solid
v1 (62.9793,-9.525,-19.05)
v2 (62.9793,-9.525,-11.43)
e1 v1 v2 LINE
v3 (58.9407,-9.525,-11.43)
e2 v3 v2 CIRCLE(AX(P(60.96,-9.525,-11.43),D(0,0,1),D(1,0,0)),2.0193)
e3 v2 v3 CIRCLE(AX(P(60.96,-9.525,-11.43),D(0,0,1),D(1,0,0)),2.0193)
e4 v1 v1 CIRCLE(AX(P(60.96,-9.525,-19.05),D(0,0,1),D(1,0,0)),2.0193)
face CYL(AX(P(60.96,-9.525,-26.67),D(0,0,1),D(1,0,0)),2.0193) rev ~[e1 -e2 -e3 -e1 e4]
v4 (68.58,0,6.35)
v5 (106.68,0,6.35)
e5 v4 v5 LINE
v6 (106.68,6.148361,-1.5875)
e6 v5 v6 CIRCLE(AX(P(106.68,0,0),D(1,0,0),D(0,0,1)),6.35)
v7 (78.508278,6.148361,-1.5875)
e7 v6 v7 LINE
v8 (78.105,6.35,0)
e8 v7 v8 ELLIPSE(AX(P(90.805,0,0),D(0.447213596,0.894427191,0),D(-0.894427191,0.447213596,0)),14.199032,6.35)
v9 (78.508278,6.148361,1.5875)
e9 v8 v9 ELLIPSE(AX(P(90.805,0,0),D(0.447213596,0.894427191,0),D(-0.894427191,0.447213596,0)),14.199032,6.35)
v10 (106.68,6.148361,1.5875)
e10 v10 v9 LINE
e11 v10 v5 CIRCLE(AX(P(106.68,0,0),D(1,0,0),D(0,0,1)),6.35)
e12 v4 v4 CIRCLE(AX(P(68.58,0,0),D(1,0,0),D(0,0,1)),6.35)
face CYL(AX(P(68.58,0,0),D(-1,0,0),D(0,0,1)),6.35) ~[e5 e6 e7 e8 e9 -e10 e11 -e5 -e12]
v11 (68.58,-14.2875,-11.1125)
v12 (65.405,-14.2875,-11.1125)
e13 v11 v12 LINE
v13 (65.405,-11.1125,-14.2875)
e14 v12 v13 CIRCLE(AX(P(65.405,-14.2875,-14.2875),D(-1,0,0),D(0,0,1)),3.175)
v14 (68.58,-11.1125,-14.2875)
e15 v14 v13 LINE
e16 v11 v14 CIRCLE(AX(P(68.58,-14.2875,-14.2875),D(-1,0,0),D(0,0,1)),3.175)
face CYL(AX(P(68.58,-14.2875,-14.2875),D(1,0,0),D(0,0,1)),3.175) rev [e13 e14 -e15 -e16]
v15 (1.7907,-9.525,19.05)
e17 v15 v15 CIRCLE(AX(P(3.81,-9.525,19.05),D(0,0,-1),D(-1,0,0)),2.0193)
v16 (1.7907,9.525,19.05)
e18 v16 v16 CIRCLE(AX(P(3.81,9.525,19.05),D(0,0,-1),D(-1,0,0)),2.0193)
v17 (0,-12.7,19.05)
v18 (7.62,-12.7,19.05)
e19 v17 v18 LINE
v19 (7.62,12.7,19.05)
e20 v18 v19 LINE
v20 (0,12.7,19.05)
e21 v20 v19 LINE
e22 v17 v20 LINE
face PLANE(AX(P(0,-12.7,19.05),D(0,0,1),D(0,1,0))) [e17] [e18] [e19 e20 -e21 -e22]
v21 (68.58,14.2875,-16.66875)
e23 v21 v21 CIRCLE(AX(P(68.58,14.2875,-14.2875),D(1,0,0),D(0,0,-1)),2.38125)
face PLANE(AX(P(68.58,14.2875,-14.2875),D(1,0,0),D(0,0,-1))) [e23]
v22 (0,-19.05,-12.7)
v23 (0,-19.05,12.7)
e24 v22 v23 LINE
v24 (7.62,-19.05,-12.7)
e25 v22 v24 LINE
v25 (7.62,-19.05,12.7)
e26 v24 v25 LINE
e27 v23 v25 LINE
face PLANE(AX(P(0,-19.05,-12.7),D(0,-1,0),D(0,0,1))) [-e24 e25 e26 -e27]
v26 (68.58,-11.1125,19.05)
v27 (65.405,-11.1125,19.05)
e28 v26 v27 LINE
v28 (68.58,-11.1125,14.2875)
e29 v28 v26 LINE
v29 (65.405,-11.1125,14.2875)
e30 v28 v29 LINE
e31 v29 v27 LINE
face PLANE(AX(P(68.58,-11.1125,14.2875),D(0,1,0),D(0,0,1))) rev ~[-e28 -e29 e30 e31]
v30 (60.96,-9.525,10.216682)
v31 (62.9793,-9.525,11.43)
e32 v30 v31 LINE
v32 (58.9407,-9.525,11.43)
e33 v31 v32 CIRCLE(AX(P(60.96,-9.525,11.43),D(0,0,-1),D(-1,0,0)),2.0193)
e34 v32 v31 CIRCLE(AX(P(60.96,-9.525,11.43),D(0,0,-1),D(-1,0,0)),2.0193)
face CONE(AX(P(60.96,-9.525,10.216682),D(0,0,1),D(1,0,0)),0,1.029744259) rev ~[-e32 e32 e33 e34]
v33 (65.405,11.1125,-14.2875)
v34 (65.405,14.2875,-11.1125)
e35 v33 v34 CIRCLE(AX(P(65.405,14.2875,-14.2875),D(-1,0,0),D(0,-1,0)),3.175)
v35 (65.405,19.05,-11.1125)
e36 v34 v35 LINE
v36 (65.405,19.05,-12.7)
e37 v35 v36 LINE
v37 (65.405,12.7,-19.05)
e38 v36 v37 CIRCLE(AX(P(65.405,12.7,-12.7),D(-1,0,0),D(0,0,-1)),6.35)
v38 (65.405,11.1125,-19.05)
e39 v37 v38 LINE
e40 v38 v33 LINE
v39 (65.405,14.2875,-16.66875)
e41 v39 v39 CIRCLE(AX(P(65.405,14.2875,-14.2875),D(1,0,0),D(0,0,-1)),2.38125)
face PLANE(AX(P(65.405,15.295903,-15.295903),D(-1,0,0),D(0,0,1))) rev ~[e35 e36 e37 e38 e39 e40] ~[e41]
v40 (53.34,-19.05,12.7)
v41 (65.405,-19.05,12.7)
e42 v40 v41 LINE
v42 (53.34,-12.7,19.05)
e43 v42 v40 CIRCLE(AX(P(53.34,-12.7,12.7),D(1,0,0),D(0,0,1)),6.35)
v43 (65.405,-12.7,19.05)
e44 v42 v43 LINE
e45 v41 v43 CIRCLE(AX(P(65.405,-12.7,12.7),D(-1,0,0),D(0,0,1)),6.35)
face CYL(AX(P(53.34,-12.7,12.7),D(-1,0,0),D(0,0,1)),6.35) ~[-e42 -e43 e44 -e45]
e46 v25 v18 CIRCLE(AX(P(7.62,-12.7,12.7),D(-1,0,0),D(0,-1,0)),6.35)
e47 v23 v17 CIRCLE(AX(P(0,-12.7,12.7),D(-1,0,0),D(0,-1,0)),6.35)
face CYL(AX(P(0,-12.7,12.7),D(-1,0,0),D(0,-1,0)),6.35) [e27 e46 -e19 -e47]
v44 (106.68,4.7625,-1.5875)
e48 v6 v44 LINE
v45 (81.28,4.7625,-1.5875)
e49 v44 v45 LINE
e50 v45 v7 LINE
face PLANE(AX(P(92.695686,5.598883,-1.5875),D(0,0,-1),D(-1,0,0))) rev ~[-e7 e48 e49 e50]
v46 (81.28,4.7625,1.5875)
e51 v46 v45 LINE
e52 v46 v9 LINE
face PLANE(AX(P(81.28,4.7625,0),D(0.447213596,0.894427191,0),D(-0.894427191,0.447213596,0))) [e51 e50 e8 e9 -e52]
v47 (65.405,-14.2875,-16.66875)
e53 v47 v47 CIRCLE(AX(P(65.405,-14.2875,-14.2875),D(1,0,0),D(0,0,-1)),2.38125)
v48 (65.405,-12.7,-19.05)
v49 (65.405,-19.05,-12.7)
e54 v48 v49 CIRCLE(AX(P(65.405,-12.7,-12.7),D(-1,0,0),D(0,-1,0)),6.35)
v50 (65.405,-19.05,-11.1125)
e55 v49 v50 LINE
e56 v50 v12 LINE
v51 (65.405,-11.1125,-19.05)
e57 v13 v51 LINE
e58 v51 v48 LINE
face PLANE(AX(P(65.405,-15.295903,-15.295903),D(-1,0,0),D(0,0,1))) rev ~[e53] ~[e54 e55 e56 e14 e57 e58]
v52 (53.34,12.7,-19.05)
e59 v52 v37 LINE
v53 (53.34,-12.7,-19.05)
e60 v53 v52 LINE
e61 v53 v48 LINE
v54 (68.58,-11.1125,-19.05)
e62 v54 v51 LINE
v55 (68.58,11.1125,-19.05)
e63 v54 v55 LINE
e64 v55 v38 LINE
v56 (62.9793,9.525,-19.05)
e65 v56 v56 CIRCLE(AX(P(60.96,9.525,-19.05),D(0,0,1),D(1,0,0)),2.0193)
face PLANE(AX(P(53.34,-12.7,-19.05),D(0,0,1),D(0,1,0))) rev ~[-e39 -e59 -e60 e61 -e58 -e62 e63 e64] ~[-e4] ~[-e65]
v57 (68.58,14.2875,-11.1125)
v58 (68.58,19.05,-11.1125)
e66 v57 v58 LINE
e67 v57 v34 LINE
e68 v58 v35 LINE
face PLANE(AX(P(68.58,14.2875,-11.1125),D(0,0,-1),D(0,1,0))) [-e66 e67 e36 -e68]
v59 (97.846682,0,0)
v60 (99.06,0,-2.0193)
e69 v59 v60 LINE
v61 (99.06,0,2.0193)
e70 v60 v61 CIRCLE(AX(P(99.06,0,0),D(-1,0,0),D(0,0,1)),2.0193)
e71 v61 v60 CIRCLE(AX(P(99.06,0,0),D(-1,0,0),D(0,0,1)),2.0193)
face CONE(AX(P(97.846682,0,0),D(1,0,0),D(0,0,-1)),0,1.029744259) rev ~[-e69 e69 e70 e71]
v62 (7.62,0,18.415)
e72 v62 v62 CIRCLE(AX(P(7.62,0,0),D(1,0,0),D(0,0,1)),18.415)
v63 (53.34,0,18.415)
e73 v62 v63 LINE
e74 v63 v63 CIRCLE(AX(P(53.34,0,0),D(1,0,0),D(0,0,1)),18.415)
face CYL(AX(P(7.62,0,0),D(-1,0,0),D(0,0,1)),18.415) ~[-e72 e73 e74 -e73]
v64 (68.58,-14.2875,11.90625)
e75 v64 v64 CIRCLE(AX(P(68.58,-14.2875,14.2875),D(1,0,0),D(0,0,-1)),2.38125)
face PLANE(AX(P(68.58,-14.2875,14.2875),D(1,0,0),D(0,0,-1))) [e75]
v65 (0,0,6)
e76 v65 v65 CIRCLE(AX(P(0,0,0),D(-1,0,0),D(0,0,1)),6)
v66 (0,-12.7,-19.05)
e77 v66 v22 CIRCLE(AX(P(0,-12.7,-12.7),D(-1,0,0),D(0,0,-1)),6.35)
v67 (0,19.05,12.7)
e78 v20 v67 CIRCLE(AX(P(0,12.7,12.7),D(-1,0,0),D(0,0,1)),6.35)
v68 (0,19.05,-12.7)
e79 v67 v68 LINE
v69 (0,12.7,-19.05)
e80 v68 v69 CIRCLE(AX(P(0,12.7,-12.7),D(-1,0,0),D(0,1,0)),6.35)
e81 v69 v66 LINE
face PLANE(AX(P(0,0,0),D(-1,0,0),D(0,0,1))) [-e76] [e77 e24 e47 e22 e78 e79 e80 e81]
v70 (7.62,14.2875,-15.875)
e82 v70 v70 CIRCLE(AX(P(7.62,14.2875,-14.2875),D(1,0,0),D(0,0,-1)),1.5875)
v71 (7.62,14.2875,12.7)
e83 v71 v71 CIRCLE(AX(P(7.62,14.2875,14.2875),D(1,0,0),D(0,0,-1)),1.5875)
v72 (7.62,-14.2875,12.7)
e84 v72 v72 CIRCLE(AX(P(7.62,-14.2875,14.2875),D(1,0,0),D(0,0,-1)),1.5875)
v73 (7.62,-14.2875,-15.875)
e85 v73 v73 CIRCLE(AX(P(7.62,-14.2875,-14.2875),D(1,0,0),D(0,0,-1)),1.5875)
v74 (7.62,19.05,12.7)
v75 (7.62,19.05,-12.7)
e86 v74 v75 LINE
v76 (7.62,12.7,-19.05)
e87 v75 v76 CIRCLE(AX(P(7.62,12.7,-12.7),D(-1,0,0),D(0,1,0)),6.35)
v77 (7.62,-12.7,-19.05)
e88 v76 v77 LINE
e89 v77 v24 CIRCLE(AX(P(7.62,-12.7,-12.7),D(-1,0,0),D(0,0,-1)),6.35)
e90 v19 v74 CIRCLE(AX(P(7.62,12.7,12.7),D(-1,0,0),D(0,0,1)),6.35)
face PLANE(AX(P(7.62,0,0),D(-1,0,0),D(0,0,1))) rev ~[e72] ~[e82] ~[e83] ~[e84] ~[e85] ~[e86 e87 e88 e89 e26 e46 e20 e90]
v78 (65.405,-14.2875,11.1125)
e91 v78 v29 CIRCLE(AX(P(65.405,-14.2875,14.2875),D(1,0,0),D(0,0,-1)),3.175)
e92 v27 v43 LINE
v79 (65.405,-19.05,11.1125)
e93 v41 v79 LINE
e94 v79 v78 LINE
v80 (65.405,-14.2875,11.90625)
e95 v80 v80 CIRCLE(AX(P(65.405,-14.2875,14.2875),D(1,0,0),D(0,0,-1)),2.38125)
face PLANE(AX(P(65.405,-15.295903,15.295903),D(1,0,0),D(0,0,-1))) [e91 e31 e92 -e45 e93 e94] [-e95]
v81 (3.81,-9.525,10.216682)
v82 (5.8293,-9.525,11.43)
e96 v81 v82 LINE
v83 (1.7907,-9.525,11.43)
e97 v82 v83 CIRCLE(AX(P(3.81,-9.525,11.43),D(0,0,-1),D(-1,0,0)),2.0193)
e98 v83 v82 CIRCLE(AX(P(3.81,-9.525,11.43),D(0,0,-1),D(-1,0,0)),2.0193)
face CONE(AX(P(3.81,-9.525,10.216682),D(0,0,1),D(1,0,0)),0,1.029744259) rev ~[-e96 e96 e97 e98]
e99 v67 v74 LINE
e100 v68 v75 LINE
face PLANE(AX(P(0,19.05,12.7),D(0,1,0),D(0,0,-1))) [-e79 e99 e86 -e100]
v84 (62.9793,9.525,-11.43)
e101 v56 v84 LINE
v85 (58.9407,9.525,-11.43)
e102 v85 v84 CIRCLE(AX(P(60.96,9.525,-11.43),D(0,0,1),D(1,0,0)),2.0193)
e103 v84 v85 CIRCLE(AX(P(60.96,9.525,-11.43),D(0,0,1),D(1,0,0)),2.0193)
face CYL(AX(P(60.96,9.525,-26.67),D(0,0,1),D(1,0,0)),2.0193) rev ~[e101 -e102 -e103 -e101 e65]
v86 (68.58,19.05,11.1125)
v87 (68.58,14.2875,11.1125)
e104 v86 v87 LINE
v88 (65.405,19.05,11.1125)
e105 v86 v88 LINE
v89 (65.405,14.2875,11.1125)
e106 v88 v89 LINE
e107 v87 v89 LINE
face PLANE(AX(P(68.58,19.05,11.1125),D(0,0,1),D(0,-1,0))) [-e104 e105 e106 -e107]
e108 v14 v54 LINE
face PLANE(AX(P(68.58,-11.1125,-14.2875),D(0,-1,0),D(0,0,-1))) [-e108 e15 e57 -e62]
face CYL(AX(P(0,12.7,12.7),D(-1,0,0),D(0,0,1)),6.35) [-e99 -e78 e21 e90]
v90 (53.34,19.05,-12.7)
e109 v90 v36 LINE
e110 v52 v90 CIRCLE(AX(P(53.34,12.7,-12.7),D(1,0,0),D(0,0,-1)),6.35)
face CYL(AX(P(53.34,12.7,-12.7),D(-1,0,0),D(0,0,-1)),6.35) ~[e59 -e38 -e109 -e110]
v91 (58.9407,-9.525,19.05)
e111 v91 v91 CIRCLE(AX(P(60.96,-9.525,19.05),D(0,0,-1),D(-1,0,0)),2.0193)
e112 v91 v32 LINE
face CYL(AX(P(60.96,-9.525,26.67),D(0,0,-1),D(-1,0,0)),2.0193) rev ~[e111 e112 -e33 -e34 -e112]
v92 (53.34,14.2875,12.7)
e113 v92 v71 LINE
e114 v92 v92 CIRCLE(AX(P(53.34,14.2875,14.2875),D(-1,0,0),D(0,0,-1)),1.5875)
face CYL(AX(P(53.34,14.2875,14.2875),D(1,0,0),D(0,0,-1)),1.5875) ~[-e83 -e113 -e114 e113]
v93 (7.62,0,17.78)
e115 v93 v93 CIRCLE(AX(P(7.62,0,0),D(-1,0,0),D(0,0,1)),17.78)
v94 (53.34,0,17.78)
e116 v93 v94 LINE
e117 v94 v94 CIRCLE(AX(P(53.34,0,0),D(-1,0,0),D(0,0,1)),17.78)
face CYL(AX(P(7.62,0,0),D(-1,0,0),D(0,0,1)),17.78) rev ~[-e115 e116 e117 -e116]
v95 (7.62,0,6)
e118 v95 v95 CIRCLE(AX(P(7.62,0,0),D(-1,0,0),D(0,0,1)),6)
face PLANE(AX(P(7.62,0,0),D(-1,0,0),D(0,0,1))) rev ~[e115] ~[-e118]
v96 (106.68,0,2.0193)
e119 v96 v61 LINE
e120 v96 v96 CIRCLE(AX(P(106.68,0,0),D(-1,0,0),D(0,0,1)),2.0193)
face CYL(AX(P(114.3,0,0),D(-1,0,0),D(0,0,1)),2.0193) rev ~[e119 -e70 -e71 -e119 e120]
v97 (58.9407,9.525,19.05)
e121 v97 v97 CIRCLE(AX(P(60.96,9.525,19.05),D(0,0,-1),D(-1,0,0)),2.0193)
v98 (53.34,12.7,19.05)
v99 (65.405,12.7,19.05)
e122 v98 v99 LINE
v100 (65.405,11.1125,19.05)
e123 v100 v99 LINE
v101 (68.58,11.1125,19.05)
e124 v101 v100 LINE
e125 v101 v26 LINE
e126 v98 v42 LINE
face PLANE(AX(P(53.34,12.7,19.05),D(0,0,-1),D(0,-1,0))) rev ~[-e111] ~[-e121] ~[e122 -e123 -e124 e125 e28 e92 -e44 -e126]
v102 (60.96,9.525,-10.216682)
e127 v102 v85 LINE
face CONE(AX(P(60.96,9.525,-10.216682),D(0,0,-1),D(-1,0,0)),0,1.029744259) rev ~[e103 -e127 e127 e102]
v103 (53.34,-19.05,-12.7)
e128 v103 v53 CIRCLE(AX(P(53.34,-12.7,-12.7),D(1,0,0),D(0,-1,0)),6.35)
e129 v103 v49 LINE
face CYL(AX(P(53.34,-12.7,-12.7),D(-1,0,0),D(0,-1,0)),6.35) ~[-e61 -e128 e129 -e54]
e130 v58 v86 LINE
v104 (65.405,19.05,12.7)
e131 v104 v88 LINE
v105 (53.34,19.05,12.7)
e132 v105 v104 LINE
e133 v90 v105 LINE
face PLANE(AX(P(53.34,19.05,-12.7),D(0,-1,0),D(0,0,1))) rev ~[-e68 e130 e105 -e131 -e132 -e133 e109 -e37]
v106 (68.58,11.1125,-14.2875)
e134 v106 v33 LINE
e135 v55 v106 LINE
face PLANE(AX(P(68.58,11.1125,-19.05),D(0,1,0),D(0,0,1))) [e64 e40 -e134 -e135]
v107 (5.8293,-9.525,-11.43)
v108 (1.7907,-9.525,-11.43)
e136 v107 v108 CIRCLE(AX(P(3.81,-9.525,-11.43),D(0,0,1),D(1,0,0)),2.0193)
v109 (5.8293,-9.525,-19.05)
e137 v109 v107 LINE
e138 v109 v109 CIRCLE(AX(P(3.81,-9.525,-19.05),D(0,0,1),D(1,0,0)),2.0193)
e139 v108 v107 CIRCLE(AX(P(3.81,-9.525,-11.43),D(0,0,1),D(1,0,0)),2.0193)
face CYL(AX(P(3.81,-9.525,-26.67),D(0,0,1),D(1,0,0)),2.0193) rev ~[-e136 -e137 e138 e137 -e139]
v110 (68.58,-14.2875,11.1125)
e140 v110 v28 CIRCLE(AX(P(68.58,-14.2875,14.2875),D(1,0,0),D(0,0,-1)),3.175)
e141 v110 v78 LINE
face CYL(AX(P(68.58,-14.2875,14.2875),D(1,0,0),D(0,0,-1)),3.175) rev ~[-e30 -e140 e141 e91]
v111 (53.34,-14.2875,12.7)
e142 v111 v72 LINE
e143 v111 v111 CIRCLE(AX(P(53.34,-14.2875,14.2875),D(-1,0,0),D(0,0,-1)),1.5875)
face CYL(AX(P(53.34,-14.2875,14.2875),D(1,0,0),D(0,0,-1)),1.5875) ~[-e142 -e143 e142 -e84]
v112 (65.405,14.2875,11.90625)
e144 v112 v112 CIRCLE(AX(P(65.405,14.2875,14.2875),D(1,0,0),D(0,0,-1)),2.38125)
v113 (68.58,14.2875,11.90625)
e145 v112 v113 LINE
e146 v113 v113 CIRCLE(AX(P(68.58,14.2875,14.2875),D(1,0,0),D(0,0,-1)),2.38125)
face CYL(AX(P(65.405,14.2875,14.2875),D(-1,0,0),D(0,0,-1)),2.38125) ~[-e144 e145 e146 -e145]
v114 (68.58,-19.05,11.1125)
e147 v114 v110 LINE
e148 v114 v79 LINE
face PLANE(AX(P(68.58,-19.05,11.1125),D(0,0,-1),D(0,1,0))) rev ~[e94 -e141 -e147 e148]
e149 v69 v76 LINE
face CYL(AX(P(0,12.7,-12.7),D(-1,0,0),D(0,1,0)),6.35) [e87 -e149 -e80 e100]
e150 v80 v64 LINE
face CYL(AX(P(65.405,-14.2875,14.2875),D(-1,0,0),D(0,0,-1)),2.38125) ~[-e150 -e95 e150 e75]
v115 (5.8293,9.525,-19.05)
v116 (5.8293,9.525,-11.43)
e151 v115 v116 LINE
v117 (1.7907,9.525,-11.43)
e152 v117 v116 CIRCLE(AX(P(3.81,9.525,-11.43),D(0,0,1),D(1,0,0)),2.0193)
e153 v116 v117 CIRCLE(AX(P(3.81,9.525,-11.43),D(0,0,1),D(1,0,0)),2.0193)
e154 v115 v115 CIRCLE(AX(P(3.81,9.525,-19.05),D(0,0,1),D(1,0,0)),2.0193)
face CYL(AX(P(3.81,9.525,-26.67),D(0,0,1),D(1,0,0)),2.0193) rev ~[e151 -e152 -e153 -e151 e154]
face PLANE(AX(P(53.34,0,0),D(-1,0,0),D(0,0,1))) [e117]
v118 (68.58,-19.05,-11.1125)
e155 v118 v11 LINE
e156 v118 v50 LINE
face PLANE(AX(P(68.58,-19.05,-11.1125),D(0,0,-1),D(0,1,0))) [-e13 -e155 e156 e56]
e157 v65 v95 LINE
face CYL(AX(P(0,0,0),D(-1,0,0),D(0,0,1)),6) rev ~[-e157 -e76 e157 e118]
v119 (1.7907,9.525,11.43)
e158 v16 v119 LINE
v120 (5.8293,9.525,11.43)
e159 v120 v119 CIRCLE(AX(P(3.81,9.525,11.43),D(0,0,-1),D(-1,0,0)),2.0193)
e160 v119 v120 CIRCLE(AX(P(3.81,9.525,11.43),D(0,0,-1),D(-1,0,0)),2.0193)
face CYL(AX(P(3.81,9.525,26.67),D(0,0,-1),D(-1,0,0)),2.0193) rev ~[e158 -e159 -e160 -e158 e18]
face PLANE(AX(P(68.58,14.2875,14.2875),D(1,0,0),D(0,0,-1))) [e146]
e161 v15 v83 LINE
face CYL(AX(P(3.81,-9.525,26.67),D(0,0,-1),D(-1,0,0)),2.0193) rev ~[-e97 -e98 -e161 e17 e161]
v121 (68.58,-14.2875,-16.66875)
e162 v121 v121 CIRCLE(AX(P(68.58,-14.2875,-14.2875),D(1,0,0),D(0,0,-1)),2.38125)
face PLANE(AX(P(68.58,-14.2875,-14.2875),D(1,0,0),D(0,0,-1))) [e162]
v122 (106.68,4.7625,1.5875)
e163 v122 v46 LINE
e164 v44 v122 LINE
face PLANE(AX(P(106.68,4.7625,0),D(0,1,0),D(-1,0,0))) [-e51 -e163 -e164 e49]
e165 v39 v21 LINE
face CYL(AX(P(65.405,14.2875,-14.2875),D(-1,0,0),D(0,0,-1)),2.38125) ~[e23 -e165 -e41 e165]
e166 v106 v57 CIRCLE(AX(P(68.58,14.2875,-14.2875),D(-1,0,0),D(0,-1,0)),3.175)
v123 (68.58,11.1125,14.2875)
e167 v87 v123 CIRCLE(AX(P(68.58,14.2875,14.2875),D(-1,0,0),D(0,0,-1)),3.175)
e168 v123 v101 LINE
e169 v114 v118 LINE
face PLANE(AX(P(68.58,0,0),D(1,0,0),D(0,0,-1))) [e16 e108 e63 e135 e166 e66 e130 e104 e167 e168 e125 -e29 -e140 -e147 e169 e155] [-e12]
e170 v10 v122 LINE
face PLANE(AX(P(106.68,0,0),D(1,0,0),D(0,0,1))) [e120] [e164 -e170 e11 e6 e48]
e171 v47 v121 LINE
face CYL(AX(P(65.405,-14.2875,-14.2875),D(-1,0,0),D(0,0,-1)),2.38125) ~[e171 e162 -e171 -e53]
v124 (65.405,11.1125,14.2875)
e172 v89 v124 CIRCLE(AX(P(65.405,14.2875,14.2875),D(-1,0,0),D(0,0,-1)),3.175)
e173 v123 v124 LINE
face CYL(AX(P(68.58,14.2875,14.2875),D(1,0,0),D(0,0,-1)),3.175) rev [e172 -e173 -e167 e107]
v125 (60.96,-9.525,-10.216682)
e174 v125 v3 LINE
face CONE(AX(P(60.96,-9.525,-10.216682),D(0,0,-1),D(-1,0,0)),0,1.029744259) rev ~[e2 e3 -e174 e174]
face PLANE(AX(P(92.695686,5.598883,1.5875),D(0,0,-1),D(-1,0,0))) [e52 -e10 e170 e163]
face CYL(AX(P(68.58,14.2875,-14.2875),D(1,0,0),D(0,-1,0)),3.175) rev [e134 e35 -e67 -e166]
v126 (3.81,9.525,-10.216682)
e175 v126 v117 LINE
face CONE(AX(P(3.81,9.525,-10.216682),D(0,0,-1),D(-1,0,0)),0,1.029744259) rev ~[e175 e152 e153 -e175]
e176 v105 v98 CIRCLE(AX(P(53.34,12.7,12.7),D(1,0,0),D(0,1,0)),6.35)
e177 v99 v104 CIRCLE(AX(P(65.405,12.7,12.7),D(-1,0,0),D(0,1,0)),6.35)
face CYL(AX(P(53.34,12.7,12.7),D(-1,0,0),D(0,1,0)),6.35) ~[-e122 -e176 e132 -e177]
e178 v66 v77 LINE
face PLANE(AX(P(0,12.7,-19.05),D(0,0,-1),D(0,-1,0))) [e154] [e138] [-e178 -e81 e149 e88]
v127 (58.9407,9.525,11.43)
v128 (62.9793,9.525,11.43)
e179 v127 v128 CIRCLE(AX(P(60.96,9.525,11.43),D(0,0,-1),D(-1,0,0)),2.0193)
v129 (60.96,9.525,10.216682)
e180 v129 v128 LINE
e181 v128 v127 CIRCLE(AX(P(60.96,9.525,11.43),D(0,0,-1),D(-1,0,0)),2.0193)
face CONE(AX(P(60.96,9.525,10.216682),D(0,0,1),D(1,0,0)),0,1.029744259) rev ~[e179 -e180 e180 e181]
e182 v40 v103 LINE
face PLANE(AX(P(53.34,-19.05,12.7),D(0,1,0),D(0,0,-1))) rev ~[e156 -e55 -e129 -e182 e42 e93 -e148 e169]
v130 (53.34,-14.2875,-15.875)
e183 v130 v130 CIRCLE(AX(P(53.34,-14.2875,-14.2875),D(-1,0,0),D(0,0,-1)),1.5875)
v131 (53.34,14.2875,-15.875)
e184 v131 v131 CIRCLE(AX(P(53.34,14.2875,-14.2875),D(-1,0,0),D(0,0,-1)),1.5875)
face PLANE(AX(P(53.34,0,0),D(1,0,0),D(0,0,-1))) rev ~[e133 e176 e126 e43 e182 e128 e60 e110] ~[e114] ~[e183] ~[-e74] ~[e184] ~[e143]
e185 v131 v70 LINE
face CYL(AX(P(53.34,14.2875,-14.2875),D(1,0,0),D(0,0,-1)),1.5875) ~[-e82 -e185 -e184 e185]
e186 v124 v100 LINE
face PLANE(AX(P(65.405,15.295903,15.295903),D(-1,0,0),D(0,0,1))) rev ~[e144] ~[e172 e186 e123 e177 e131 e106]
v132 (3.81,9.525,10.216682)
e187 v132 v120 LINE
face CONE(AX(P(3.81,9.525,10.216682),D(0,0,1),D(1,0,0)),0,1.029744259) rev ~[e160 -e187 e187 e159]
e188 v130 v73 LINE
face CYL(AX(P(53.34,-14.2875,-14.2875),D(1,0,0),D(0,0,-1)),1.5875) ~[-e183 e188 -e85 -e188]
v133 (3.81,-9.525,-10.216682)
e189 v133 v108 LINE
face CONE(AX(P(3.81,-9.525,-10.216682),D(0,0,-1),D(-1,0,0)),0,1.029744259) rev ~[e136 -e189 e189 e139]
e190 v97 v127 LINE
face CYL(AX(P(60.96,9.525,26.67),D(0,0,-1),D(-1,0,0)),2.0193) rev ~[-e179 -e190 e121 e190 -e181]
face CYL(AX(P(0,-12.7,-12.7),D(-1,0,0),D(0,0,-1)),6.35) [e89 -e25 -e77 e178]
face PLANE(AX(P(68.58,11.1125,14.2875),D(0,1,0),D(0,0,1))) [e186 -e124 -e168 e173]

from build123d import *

# Parameters (mm, degrees)
BOSS_EXTRUDE1_DEPTH                  = 7.62
SKETCH2_R                            = 18.415
BOSS_EXTRUDE2_DEPTH                  = 45.72
BOSS_EXTRUDE3_DEPTH                  = 15.24
SKETCH5_R                            = 6.35
BOSS_EXTRUDE4_DEPTH                  = 38.1
F_10_32_TAPPED_HOLE1_D               = 4.0386
F_10_32_TAPPED_HOLE1_DEPTH           = 7.62
F_10_32_TAPPED_HOLE1_TIP             = 1.213317848
F_10_32_TAPPED_HOLE1_ON_FACE_2_D     = 4.0386
F_10_32_TAPPED_HOLE1_ON_FACE_2_DEPTH = 7.62
F_10_32_TAPPED_HOLE1_ON_FACE_2_TIP   = 1.213317848
CUT_EXTRUDE1_START                   = -7.62
SKETCH8_R                            = 17.78
CUT_EXTRUDE1_DEPTH                   = 45.72
CUT_EXTRUDE2_REACH                   = 112.029
SKETCH9_R                            = 6
CUT_EXTRUDE3_DEPTH                   = 1.5875
F_10_32_TAPPED_HOLE2_D               = 4.0386
F_10_32_TAPPED_HOLE2_DEPTH           = 7.62
F_10_32_TAPPED_HOLE2_TIP             = 1.213317848
CUT_EXTRUDE4_DEPTH                   = 3.175
BOSS_EXTRUDE5_REACH                  = 61.758
SKETCH15_R                           = 1.5875
SKETCH16_R                           = 2.38125
BOSS_EXTRUDE6_DEPTH                  = 3.175


with BuildPart() as part:
    # Sketch1 → Boss-Extrude1 (new body)
    with BuildSketch(Plane(origin=(0, 0, 0), x_dir=(0, 0, -1), z_dir=(1, 0, 0))):
        with BuildLine():
            Line((-12.7, 19.05), (12.7, 19.05))
            ThreePointArc((12.7, 19.05), (17.190128061, 17.190128061), (19.05, 12.7))
            Line((19.05, 12.7), (19.05, -12.7))
            ThreePointArc((19.05, -12.7), (17.190128061, -17.190128061), (12.7, -19.05))
            Line((12.7, -19.05), (-12.7, -19.05))
            ThreePointArc((-12.7, -19.05), (-17.190128061, -17.190128061), (-19.05, -12.7))
            Line((-19.05, -12.7), (-19.05, 12.7))
            ThreePointArc((-19.05, 12.7), (-17.190128061, 17.190128061), (-12.7, 19.05))
        make_face()
    extrude(amount=BOSS_EXTRUDE1_DEPTH)

    # Sketch2 → Boss-Extrude2 (add)
    with BuildSketch(Plane(origin=(7.62, 0, 0), x_dir=(0, 0, -1), z_dir=(1, 0, 0))):
        with Locations(Location((0, 0, 0), (0, 0, 180))):
            Circle(SKETCH2_R)
    extrude(amount=BOSS_EXTRUDE2_DEPTH)

    # Sketch4 → Boss-Extrude3 (add)
    with BuildSketch(Plane(origin=(53.34, 0, 0), x_dir=(0, 0, -1), z_dir=(1, 0, 0))):
        with BuildLine():
            Line((12.7, 19.05), (-12.7, 19.05))
            ThreePointArc((-12.7, 19.05), (-17.190128061, 17.190128061), (-19.05, 12.7))
            Line((-19.05, 12.7), (-19.05, -12.7))
            ThreePointArc((-19.05, -12.7), (-17.190128061, -17.190128061), (-12.7, -19.05))
            Line((-12.7, -19.05), (12.7, -19.05))
            ThreePointArc((12.7, -19.05), (17.190128061, -17.190128061), (19.05, -12.7))
            Line((19.05, -12.7), (19.05, 12.7))
            ThreePointArc((19.05, 12.7), (17.190128061, 17.190128061), (12.7, 19.05))
        make_face()
    extrude(amount=BOSS_EXTRUDE3_DEPTH)

    # Sketch5 → Boss-Extrude4 (add)
    with BuildSketch(Plane(origin=(68.58, 0, 0), x_dir=(0, 0, -1), z_dir=(1, 0, 0))):
        with Locations(Location((0, 0, 0), (0, 0, 180))):
            Circle(SKETCH5_R)
    extrude(amount=BOSS_EXTRUDE4_DEPTH)

    # #10-32 Tapped Hole1
    with Locations(Plane(origin=(60.96, 9.525, -19.05), x_dir=(-1, 0, 0), z_dir=(0, 0, -1))):
        with Locations((0, 0), (0, -19.05), (57.15, 0), (57.15, -19.05)):
            Hole(F_10_32_TAPPED_HOLE1_D / 2, depth=F_10_32_TAPPED_HOLE1_DEPTH)
            with Locations((0, 0, -(F_10_32_TAPPED_HOLE1_DEPTH + F_10_32_TAPPED_HOLE1_TIP / 2))):  # 118° drill point
                Cone(0, F_10_32_TAPPED_HOLE1_D / 2, F_10_32_TAPPED_HOLE1_TIP, mode=Mode.SUBTRACT)

    # #10-32 Tapped Hole1 on face 2
    with Locations(Plane(origin=(60.96, 9.525, 19.05), x_dir=(1, 0, 0), z_dir=(0, 0, 1))):
        with Locations((0, 0), (0, -19.05), (-57.15, 0), (-57.15, -19.05)):
            Hole(F_10_32_TAPPED_HOLE1_ON_FACE_2_D / 2, depth=F_10_32_TAPPED_HOLE1_ON_FACE_2_DEPTH)
            with Locations((0, 0, -(F_10_32_TAPPED_HOLE1_ON_FACE_2_DEPTH + F_10_32_TAPPED_HOLE1_ON_FACE_2_TIP / 2))):  # 118° drill point
                Cone(0, F_10_32_TAPPED_HOLE1_ON_FACE_2_D / 2, F_10_32_TAPPED_HOLE1_ON_FACE_2_TIP, mode=Mode.SUBTRACT)

    # Sketch8 → Cut-Extrude1 (cut)
    with BuildSketch(Plane.ZY.offset(CUT_EXTRUDE1_START)):
        Circle(SKETCH8_R)
    extrude(amount=-CUT_EXTRUDE1_DEPTH, mode=Mode.SUBTRACT)

    # Sketch9 → Cut-Extrude2 (cut, up to next)
    with BuildSketch(Plane.ZY, mode=Mode.PRIVATE) as cut_extrude2_sk1:
        Circle(SKETCH9_R)
    cut_extrude2_tool1 = extrude(cut_extrude2_sk1.sketch, amount=-CUT_EXTRUDE2_REACH, mode=Mode.PRIVATE) & part.part
    add(cut_extrude2_tool1.solids().sort_by_distance((0, 0, 0))[0], mode=Mode.SUBTRACT)

    # Sketch10 → Cut-Extrude3 (cut, symmetric)
    with BuildSketch(Plane.XY):
        Polygon((106.68, 4.7625), (81.28, 4.7625), (78.105, 6.35), (106.68, 6.35), align=None)
    extrude(amount=CUT_EXTRUDE3_DEPTH, both=True, mode=Mode.SUBTRACT)

    # #10-32 Tapped Hole2
    with Locations(Plane(origin=(106.68, 0, 0), x_dir=(0, 0, -1), z_dir=(1, 0, 0))):
        with Locations((0, 0)):
            Hole(F_10_32_TAPPED_HOLE2_D / 2, depth=F_10_32_TAPPED_HOLE2_DEPTH)
            with Locations((0, 0, -(F_10_32_TAPPED_HOLE2_DEPTH + F_10_32_TAPPED_HOLE2_TIP / 2))):  # 118° drill point
                Cone(0, F_10_32_TAPPED_HOLE2_D / 2, F_10_32_TAPPED_HOLE2_TIP, mode=Mode.SUBTRACT)

    # Sketch14 → Cut-Extrude4 (cut)
    with BuildSketch(Plane(origin=(68.58, 0, 0), x_dir=(0, 0, -1), z_dir=(1, 0, 0))):
        with BuildLine():
            Line((-14.2875, 11.1125), (-19.05, 11.1125))
            Line((-19.05, 11.1125), (-19.05, 19.05))
            Line((-19.05, 19.05), (-11.1125, 19.05))
            Line((-11.1125, 19.05), (-11.1125, 14.2875))
            ThreePointArc((-11.1125, 14.2875), (-12.04243597, 12.04243597), (-14.2875, 11.1125))
        make_face()
        with BuildLine():
            Line((-14.2875, -11.1125), (-19.05, -11.1125))
            Line((-19.05, -11.1125), (-19.05, -19.05))
            Line((-19.05, -19.05), (-11.1125, -19.05))
            Line((-11.1125, -19.05), (-11.1125, -14.2875))
            ThreePointArc((-11.1125, -14.2875), (-12.04243597, -12.04243597), (-14.2875, -11.1125))
        make_face()
        with BuildLine():
            Line((11.1125, 14.2875), (11.1125, 19.05))
            Line((11.1125, 19.05), (19.05, 19.05))
            Line((19.05, 19.05), (19.05, 11.1125))
            Line((19.05, 11.1125), (14.2875, 11.1125))
            ThreePointArc((14.2875, 11.1125), (12.04243597, 12.04243597), (11.1125, 14.2875))
        make_face()
        with BuildLine():
            Line((14.2875, -11.1125), (19.05, -11.1125))
            Line((19.05, -11.1125), (19.05, -19.05))
            Line((19.05, -19.05), (11.1125, -19.05))
            Line((11.1125, -19.05), (11.1125, -14.2875))
            ThreePointArc((11.1125, -14.2875), (12.04243597, -12.04243597), (14.2875, -11.1125))
        make_face()
    extrude(amount=-CUT_EXTRUDE4_DEPTH, mode=Mode.SUBTRACT)

    # Sketch15 → Boss-Extrude5 (add, up to next)
    with BuildSketch(Plane.ZY.offset(-53.34), mode=Mode.PRIVATE) as boss_extrude5_sk1:
        with Locations(Location((14.2875, 14.2875, 0), (0, 0, 180))):
            Circle(SKETCH15_R)
    boss_extrude5_tool1 = extrude(boss_extrude5_sk1.sketch, amount=BOSS_EXTRUDE5_REACH, mode=Mode.PRIVATE) - part.part
    # Sketch15 → Boss-Extrude5 (add, up to next)
    with BuildSketch(Plane.ZY.offset(-53.34), mode=Mode.PRIVATE) as boss_extrude5_sk2:
        with Locations(Location((-14.2875, 14.2875, 0), (0, 0, 180))):
            Circle(SKETCH15_R)
    boss_extrude5_tool2 = extrude(boss_extrude5_sk2.sketch, amount=BOSS_EXTRUDE5_REACH, mode=Mode.PRIVATE) - part.part
    # Sketch15 → Boss-Extrude5 (add, up to next)
    with BuildSketch(Plane.ZY.offset(-53.34), mode=Mode.PRIVATE) as boss_extrude5_sk3:
        with Locations(Location((14.2875, -14.2875, 0), (0, 0, 180))):
            Circle(SKETCH15_R)
    boss_extrude5_tool3 = extrude(boss_extrude5_sk3.sketch, amount=BOSS_EXTRUDE5_REACH, mode=Mode.PRIVATE) - part.part
    # Sketch15 → Boss-Extrude5 (add, up to next)
    with BuildSketch(Plane.ZY.offset(-53.34), mode=Mode.PRIVATE) as boss_extrude5_sk4:
        with Locations(Location((-14.2875, -14.2875, 0), (0, 0, 180))):
            Circle(SKETCH15_R)
    boss_extrude5_tool4 = extrude(boss_extrude5_sk4.sketch, amount=BOSS_EXTRUDE5_REACH, mode=Mode.PRIVATE) - part.part
    add(boss_extrude5_tool1.solids().sort_by_distance((53.34, 14.2875, 14.2875))[0])
    add(boss_extrude5_tool2.solids().sort_by_distance((53.34, 14.2875, -14.2875))[0])
    add(boss_extrude5_tool3.solids().sort_by_distance((53.34, -14.2875, 14.2875))[0])
    add(boss_extrude5_tool4.solids().sort_by_distance((53.34, -14.2875, -14.2875))[0])

    # Sketch16 → Boss-Extrude6 (add)
    with BuildSketch(Plane(origin=(65.405, 0, 0), x_dir=(0, 0, -1), z_dir=(1, 0, 0))):
        with Locations((-14.2875, 14.2875)):
            Circle(SKETCH16_R)
        with Locations((-14.2875, -14.2875)):
            Circle(SKETCH16_R)
        with Locations((14.2875, -14.2875)):
            Circle(SKETCH16_R)
        with Locations((14.2875, 14.2875)):
            Circle(SKETCH16_R)
    extrude(amount=BOSS_EXTRUDE6_DEPTH)


solid = part.part
